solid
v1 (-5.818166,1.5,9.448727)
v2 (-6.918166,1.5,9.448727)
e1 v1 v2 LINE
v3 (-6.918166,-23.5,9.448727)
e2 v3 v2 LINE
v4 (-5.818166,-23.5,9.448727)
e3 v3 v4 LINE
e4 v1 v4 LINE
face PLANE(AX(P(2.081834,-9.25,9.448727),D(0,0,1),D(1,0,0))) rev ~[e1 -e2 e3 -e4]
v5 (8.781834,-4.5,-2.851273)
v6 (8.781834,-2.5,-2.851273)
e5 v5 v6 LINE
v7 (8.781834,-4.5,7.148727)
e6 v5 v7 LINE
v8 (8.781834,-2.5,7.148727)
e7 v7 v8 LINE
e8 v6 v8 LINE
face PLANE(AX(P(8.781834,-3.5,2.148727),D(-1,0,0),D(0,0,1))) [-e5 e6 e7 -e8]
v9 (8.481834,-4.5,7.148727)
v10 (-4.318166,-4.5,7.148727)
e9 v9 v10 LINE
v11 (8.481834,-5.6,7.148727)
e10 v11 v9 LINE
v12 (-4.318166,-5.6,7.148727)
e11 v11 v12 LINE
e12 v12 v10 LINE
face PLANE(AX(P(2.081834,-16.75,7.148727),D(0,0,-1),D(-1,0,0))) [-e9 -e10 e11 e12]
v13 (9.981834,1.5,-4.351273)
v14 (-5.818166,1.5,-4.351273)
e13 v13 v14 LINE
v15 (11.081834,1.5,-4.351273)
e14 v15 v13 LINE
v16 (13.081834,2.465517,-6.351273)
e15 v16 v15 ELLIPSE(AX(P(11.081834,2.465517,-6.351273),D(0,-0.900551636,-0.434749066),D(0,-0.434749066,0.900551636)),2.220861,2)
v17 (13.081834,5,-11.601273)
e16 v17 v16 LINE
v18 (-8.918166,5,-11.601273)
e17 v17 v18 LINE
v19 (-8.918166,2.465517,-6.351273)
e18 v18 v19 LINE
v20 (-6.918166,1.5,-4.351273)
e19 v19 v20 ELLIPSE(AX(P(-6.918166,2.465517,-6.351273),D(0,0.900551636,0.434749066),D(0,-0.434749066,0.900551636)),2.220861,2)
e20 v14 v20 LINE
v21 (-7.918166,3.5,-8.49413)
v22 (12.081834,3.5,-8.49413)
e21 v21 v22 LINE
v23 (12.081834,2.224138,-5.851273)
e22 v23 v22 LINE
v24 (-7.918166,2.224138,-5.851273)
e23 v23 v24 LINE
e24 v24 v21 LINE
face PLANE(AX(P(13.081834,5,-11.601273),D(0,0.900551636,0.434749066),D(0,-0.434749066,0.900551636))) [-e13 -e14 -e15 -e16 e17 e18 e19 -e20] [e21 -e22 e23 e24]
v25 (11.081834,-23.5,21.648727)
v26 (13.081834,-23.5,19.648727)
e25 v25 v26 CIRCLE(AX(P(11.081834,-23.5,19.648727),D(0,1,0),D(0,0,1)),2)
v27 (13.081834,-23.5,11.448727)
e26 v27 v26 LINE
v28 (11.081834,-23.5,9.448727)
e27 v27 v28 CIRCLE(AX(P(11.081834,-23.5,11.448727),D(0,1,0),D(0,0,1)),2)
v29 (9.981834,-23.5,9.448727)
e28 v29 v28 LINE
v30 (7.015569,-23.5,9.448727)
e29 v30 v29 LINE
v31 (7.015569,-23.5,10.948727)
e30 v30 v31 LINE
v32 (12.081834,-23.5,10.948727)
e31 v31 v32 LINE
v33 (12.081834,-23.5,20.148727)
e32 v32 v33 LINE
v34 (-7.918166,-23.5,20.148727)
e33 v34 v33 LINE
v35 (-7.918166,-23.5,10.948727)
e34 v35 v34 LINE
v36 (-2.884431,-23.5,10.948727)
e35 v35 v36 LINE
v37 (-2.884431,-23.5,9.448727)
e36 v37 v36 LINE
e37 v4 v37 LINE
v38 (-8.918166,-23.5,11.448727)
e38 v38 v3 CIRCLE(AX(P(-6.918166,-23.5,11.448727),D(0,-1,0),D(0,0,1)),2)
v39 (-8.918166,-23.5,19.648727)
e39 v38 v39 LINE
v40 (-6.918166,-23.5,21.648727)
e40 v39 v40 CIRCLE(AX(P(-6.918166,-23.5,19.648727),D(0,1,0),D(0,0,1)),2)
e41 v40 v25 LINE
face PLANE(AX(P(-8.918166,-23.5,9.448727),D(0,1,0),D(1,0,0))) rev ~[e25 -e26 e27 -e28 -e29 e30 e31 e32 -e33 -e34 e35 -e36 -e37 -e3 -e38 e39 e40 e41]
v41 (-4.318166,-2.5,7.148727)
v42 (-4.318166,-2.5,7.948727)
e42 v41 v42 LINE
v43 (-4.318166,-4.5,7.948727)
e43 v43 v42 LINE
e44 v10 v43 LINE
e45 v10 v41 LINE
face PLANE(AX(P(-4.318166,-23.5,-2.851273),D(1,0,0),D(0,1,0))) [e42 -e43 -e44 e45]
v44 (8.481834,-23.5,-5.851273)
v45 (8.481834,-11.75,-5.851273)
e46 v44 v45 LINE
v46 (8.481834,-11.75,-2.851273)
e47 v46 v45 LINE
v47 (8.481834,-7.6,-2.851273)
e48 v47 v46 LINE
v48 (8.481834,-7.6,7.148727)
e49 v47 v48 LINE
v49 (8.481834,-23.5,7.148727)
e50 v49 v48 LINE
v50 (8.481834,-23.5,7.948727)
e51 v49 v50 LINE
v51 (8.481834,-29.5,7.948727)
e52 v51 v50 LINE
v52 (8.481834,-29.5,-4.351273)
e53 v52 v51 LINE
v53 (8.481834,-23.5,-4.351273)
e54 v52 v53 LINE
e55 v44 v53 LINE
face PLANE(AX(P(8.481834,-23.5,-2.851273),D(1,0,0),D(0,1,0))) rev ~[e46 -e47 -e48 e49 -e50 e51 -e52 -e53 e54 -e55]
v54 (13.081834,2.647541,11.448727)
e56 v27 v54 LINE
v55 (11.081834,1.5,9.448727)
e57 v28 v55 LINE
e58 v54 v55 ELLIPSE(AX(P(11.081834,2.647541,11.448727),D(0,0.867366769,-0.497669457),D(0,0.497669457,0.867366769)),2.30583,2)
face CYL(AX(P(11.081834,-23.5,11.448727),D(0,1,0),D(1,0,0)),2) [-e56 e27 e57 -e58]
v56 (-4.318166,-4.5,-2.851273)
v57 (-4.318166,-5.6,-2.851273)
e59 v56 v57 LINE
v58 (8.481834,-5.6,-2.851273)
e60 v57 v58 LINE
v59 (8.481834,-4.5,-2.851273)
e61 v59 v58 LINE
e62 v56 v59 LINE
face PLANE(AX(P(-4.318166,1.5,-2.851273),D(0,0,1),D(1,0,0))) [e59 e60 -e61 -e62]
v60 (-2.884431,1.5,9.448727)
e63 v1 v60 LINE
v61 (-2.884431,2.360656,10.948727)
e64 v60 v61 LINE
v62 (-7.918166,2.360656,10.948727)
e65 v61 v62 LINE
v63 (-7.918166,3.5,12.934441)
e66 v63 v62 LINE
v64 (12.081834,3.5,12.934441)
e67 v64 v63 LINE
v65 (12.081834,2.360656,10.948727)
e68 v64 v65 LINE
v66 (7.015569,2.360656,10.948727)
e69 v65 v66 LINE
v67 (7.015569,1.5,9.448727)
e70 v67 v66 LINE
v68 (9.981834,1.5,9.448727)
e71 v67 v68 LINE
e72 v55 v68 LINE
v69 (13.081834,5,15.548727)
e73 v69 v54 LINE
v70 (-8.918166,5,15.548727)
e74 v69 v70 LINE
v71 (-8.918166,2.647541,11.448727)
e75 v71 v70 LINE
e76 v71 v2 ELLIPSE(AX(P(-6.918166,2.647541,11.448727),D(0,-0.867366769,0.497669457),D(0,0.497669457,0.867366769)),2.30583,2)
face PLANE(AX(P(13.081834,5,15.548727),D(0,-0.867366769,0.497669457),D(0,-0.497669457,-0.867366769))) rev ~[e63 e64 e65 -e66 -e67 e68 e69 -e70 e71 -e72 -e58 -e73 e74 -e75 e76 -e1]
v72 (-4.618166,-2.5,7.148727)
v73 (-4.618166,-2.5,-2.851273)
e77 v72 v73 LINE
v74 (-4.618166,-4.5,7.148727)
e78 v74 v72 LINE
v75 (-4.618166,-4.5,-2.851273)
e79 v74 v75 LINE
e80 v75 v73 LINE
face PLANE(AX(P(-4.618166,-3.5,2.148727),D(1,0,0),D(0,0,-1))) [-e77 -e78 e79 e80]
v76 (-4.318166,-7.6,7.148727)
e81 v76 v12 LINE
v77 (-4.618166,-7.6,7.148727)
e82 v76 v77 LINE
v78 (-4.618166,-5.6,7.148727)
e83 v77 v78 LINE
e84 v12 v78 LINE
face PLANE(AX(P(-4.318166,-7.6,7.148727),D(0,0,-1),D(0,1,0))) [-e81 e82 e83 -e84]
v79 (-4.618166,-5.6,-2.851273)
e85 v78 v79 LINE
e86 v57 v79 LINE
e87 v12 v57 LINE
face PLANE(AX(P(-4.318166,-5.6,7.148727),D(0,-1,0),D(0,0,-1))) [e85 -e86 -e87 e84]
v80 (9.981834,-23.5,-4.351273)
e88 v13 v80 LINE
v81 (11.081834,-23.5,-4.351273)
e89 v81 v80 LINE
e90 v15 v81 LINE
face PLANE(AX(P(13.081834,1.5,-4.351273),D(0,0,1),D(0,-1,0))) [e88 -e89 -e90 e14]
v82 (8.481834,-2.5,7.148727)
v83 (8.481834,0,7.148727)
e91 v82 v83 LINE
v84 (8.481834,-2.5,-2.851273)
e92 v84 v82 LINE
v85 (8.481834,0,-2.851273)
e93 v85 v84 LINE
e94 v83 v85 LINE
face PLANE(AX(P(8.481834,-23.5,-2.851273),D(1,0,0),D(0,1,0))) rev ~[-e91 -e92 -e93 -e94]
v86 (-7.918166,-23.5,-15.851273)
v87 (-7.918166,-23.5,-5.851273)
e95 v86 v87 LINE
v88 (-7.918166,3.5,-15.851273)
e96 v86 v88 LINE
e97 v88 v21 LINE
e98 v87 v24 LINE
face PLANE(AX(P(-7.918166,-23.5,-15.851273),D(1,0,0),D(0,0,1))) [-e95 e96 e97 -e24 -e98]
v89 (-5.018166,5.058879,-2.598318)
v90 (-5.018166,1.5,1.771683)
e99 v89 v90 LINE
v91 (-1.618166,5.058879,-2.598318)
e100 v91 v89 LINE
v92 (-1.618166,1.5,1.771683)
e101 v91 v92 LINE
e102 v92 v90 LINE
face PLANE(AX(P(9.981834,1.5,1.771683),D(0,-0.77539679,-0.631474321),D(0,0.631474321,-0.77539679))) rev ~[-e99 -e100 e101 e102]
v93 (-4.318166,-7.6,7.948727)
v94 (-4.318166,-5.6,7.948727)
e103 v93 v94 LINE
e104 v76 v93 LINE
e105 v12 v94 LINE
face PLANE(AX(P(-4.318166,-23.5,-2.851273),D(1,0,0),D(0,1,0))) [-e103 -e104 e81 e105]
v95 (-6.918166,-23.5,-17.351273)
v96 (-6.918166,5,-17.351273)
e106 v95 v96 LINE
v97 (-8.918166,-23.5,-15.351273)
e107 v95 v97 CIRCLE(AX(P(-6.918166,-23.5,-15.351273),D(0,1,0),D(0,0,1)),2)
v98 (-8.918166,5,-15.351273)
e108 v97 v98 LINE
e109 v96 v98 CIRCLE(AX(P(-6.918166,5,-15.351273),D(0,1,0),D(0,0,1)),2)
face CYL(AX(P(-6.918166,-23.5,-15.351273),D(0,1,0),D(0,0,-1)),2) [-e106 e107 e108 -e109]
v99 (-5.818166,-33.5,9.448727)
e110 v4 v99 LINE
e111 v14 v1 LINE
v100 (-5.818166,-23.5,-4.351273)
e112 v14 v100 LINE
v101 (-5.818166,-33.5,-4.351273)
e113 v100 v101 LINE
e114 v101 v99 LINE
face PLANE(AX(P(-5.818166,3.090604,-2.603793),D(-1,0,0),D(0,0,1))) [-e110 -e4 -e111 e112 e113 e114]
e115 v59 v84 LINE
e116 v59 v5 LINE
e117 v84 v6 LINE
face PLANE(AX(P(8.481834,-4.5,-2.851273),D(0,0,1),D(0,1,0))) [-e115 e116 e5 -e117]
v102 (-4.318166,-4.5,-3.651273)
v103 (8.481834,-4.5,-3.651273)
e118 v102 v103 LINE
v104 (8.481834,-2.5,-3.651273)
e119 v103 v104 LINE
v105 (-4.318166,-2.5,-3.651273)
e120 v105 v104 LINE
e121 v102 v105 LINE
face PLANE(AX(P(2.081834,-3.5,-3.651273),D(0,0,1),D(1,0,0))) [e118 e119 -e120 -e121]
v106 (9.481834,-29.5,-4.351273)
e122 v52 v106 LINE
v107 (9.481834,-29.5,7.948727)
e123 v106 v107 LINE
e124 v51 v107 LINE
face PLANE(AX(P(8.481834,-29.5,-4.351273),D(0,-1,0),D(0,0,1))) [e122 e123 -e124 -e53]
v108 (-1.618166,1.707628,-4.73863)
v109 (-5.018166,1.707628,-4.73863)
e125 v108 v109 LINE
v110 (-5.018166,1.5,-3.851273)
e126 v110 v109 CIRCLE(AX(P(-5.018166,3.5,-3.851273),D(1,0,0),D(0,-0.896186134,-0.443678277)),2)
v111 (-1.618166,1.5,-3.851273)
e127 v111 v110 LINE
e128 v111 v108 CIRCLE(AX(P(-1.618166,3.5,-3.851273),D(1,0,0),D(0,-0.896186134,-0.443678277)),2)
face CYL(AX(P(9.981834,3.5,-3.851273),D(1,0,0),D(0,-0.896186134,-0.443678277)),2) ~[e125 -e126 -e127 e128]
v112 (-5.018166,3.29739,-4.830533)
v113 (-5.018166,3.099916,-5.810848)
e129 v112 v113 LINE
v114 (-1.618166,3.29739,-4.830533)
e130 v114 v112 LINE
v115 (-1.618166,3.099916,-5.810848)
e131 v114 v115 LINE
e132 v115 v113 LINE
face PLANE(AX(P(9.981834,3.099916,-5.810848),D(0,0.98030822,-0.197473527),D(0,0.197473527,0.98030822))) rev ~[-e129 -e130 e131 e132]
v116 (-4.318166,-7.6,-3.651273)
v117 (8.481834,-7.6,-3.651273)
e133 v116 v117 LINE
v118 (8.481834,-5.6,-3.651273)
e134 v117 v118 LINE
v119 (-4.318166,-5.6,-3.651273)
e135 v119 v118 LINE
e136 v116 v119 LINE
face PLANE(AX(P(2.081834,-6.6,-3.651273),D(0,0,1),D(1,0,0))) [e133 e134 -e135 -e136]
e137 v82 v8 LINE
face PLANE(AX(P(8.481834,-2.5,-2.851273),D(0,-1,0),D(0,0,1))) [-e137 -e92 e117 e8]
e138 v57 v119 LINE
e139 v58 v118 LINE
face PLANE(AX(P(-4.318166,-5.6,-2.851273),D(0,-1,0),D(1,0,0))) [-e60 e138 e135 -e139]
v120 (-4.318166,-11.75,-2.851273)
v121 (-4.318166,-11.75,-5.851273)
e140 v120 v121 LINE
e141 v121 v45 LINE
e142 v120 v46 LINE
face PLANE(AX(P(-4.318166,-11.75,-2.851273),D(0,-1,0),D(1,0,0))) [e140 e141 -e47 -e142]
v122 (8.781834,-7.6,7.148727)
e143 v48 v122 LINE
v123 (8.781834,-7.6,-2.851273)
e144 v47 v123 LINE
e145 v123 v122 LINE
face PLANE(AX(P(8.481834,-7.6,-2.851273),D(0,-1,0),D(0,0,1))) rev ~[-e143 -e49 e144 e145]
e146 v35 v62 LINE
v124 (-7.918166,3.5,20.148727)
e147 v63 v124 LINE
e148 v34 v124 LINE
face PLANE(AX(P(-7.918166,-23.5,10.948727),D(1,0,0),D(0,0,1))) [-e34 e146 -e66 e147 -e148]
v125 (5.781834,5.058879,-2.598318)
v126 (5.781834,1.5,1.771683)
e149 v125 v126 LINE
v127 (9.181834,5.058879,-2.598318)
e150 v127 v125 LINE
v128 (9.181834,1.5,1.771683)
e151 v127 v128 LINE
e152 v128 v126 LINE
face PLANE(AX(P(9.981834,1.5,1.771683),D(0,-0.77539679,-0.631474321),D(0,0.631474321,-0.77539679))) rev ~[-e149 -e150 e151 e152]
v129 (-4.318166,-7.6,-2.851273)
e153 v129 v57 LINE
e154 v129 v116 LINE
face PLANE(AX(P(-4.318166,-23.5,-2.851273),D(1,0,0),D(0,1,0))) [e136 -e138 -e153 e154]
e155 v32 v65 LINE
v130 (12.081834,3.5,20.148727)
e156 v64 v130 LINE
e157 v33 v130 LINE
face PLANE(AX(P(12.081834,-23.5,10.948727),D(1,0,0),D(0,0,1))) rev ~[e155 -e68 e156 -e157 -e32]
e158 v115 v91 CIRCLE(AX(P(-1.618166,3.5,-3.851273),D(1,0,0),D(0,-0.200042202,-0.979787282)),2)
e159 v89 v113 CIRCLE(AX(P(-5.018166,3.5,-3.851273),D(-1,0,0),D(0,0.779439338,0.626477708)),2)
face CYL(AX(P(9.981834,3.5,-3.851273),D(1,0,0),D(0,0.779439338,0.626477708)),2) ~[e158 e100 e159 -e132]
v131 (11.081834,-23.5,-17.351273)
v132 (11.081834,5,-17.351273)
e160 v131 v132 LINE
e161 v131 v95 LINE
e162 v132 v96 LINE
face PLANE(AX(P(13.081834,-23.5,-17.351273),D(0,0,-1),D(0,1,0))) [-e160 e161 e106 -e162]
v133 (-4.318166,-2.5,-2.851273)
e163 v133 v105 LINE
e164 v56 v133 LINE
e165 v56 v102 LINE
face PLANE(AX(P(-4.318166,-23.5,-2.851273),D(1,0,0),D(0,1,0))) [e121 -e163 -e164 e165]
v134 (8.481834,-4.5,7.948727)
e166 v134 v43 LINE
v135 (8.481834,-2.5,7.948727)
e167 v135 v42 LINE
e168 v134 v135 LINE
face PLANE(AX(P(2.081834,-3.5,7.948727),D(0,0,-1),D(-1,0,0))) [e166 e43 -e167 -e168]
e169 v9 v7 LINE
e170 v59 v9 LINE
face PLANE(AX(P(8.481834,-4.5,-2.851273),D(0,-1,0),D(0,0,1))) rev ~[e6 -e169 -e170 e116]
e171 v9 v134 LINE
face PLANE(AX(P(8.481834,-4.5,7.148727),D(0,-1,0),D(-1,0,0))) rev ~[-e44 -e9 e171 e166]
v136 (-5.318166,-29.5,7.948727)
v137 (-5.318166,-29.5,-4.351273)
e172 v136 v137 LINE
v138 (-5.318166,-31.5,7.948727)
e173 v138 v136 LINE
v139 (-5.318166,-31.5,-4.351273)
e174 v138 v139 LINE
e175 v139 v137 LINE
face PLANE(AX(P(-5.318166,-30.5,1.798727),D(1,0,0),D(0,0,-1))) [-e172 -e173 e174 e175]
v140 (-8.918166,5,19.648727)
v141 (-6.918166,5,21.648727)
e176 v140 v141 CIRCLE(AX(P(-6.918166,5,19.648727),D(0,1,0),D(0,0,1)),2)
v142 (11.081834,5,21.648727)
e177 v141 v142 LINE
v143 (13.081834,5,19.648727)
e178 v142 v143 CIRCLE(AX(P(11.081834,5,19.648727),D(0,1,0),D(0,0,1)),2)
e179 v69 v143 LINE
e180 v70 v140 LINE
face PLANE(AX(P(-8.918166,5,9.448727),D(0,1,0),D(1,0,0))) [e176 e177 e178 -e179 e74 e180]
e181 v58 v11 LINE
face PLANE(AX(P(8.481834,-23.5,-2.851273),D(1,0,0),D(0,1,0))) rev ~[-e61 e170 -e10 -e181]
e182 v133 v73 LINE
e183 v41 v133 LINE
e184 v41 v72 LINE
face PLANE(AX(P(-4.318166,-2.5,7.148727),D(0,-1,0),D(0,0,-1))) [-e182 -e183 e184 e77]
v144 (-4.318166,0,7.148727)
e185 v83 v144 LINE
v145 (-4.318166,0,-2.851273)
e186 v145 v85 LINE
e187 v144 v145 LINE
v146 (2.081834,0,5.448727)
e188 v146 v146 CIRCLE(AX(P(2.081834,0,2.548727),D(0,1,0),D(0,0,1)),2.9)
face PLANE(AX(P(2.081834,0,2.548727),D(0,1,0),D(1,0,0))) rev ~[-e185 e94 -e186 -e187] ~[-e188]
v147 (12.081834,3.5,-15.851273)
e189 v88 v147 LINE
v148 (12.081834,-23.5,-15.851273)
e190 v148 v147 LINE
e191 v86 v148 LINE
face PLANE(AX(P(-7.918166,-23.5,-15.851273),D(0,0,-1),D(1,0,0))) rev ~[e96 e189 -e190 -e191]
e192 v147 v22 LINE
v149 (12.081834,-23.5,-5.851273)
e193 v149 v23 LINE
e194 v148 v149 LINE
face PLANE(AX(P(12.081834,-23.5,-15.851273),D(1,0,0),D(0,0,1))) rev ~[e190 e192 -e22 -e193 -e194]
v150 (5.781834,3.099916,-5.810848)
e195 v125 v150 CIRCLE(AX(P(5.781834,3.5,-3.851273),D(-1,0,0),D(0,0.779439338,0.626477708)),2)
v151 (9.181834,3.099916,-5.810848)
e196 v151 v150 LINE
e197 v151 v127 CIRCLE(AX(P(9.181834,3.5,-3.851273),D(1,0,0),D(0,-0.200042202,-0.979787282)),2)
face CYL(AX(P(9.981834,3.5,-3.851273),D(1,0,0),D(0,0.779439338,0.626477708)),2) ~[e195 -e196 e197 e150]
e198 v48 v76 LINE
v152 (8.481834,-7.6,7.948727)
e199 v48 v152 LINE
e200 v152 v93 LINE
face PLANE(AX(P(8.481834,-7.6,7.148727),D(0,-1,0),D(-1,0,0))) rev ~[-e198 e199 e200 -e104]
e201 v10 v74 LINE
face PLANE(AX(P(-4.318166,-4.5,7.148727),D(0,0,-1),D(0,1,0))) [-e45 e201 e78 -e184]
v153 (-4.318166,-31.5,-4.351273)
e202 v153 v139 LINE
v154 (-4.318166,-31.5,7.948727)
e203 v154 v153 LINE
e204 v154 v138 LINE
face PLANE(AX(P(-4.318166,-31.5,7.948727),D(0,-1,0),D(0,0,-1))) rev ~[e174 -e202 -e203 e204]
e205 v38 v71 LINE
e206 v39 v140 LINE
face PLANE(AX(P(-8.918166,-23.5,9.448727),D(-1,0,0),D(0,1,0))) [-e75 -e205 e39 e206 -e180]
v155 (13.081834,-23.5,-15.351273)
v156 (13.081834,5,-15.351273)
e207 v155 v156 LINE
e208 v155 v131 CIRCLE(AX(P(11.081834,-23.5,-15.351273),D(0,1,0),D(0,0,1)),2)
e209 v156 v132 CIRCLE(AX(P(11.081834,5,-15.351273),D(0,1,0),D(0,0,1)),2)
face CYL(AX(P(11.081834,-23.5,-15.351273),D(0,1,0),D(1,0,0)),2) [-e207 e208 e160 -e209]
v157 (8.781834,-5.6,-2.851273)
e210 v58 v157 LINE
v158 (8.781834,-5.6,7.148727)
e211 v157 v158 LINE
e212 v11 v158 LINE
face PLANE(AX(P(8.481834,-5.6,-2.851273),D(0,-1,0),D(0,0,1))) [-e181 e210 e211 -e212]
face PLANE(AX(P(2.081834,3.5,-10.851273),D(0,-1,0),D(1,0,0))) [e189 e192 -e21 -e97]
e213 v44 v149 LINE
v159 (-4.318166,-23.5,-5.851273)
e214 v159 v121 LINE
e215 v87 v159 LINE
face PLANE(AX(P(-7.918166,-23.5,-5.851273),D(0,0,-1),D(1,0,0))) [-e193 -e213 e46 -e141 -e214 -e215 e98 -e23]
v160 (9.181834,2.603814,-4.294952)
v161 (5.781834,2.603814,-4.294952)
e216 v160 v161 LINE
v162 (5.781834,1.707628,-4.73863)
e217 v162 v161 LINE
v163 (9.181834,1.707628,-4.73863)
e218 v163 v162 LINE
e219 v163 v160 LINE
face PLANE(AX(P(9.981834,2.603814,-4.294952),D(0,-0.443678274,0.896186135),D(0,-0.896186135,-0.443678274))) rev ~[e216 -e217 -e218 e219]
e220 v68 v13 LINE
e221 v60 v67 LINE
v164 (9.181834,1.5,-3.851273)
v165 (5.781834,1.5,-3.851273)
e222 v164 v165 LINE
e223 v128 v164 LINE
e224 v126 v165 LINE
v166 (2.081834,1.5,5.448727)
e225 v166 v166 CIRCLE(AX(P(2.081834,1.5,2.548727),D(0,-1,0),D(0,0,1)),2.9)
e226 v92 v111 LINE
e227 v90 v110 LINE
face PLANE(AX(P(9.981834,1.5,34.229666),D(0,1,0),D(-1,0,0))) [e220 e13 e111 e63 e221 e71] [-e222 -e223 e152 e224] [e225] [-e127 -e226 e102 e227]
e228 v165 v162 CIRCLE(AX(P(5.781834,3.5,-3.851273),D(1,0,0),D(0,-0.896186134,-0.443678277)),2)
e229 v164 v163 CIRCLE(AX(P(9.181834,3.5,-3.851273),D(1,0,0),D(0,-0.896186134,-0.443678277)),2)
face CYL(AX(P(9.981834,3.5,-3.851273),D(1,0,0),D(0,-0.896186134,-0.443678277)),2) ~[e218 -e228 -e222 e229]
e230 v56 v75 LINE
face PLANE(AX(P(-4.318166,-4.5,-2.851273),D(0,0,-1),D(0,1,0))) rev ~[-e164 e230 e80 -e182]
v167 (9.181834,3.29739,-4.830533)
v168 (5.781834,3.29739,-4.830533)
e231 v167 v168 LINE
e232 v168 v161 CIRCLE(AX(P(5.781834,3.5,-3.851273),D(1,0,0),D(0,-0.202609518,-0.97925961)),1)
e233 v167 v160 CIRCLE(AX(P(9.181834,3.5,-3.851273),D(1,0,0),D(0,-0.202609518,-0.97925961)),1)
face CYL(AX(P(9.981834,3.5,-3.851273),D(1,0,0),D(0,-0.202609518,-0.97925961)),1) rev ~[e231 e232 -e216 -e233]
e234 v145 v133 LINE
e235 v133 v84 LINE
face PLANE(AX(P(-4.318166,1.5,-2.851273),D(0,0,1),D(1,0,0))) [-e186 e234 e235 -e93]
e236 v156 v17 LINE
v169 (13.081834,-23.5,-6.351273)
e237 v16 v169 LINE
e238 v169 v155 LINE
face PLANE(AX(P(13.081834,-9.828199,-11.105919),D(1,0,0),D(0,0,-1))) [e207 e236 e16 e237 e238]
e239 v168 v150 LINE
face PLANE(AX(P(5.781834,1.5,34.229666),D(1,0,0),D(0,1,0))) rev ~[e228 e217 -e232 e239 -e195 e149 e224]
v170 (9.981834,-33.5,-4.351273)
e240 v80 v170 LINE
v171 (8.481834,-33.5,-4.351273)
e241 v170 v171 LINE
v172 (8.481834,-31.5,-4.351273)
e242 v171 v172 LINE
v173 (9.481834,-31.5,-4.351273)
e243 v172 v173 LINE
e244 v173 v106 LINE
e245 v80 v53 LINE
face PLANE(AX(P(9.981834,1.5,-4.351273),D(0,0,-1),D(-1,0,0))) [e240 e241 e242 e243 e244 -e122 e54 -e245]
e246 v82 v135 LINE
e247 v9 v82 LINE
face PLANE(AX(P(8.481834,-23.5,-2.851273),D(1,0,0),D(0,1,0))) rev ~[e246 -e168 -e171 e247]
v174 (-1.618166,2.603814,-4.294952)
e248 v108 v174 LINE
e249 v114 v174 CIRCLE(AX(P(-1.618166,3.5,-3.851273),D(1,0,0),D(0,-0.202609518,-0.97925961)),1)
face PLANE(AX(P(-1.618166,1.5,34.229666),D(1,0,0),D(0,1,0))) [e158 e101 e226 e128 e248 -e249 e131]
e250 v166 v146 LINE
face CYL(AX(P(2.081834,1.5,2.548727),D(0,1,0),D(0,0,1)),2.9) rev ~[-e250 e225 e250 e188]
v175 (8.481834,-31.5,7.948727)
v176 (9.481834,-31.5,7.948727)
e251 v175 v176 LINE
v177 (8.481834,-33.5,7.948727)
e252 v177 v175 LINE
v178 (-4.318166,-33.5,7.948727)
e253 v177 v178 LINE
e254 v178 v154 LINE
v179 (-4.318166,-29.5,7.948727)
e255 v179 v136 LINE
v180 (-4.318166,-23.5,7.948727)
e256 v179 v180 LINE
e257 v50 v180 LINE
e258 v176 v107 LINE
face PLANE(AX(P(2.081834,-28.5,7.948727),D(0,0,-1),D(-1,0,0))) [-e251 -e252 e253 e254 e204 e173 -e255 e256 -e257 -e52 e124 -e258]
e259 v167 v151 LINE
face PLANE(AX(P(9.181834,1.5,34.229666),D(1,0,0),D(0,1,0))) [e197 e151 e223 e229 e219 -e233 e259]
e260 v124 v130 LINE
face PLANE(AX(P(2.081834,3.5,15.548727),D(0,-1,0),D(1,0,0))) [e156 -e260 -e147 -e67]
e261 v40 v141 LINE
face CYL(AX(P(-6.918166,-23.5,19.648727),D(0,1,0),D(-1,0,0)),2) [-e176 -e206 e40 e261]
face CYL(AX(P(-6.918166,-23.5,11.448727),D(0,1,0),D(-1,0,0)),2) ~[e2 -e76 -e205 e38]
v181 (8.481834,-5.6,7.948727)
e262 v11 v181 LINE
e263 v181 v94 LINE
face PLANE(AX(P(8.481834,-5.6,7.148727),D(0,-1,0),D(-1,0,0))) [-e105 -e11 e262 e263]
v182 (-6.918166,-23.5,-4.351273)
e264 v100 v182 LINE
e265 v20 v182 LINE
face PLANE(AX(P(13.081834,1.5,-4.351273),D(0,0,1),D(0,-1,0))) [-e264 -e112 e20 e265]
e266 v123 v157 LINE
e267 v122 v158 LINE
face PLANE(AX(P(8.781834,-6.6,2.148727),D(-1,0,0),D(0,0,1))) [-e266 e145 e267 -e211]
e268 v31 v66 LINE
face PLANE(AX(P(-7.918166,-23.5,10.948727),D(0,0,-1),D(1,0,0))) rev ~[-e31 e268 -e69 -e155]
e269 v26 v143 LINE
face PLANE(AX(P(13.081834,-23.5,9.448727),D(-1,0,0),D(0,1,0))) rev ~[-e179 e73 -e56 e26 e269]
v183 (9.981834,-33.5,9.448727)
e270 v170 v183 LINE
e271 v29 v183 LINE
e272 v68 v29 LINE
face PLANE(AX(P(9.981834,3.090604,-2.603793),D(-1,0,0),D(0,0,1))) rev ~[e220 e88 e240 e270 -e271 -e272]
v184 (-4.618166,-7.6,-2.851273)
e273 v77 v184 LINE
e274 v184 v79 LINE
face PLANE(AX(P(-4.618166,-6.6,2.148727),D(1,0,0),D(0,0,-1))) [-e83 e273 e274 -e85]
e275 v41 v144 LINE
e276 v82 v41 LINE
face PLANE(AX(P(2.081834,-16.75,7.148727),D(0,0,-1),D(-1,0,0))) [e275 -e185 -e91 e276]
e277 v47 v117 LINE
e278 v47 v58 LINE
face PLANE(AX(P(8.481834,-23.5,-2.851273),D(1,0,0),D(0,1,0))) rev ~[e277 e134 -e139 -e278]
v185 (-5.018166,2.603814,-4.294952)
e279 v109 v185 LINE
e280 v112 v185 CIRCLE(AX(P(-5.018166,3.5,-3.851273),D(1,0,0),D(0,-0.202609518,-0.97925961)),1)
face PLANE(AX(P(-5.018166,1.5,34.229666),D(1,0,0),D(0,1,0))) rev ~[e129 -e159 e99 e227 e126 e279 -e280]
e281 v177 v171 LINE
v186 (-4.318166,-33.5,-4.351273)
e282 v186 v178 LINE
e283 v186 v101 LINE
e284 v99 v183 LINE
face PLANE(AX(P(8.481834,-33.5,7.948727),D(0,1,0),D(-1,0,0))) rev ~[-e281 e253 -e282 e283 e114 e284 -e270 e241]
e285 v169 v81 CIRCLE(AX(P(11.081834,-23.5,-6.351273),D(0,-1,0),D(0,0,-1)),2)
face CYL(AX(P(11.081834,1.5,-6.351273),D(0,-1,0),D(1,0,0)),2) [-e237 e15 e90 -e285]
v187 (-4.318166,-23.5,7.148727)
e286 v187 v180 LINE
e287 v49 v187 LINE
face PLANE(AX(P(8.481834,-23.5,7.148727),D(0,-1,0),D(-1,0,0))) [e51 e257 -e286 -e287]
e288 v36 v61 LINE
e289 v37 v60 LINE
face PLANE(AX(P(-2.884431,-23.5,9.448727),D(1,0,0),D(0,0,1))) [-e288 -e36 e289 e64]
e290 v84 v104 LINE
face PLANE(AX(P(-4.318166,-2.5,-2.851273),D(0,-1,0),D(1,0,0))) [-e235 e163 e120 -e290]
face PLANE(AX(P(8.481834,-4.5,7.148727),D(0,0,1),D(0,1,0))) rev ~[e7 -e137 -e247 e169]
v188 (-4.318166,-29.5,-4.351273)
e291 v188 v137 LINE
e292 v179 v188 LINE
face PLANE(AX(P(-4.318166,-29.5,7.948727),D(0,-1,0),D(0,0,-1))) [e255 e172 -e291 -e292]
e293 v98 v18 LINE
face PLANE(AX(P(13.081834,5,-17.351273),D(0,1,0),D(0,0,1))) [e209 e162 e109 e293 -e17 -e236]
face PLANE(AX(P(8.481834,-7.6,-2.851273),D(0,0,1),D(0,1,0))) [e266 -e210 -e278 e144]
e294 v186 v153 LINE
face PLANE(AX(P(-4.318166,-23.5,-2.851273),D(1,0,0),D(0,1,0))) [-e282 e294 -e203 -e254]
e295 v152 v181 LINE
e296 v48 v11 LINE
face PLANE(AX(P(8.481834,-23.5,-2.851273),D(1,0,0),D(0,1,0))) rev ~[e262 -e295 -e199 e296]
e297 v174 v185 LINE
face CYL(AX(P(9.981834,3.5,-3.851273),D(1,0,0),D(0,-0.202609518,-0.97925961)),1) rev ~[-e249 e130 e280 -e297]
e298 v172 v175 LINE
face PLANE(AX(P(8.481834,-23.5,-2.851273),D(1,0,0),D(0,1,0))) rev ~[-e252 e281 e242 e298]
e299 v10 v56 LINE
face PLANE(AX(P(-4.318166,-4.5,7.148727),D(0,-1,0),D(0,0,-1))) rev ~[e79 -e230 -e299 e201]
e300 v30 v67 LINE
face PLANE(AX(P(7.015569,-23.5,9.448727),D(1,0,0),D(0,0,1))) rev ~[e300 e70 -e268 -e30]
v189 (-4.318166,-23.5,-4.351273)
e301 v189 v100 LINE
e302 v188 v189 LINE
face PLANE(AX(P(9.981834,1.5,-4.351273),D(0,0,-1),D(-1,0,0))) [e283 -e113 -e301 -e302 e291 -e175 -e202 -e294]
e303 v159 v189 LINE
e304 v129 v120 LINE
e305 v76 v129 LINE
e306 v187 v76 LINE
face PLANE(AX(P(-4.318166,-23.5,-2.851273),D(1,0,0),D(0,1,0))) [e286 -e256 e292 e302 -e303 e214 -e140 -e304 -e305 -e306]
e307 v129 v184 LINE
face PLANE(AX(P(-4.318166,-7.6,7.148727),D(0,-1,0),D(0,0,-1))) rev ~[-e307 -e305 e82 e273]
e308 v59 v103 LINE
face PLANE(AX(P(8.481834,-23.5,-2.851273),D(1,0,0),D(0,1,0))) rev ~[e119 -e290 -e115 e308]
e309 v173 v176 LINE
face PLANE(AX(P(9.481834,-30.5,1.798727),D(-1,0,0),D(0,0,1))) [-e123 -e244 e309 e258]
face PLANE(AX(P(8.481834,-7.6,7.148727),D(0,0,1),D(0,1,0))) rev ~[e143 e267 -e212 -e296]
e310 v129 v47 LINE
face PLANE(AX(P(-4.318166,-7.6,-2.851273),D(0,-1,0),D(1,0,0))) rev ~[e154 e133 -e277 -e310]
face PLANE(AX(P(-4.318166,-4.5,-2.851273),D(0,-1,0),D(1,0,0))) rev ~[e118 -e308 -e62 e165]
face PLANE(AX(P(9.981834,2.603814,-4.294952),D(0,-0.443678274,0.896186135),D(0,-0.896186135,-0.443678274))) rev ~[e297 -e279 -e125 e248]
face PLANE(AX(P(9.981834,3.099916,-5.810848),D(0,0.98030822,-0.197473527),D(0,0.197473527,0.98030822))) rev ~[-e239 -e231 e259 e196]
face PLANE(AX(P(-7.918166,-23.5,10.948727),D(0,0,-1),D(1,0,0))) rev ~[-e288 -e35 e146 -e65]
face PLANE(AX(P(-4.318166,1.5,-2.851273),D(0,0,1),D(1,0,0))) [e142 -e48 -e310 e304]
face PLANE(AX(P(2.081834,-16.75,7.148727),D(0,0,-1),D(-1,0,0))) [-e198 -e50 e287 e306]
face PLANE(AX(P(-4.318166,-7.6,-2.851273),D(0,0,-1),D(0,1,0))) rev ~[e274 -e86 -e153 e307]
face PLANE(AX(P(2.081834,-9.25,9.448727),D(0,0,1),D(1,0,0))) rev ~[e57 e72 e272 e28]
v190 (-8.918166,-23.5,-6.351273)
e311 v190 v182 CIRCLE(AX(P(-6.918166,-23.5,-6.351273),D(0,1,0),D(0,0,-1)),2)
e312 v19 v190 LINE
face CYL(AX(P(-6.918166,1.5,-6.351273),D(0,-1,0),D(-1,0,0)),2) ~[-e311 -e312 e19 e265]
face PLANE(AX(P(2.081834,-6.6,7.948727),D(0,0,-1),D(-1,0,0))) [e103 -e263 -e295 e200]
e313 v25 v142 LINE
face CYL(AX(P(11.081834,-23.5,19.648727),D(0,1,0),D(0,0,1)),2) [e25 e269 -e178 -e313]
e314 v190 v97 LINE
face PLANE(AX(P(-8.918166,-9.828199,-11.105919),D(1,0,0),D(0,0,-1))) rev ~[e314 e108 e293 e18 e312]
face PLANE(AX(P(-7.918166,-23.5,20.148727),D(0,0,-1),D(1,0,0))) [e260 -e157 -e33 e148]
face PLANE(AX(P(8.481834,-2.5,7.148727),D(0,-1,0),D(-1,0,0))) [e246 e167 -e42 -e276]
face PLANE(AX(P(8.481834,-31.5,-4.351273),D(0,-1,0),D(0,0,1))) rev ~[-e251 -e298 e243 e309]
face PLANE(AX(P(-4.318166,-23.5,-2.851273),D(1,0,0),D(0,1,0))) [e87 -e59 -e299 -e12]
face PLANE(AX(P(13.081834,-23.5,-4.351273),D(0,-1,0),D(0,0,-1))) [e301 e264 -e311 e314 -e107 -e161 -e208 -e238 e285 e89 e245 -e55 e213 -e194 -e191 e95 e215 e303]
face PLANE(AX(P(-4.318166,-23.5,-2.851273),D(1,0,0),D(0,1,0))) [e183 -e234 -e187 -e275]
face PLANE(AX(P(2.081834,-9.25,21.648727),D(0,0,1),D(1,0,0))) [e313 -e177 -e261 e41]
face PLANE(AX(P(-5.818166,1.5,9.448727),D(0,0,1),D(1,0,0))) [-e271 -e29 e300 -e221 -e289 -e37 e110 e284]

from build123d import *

# Parameters (mm, degrees)
SKETCH_1_W               = 12.8
SKETCH_1_H               = 10.8
EXTRUDE_1_DEPTH          = 1.5
CUT_EXTRUDE_1_REACH      = 13.721
SKETCH_2_R               = 2.9
SKETCH_3_W               = 12.8
SKETCH_3_H               = 1.5
EXTRUDE_2_DEPTH          = 35
SKETCH_6_W               = 12.8
SKETCH_6_H               = 1.5
CUT_EXTRUDE_2_DEPTH      = 10
EXTRUDE_4_DEPTH          = 15.8
CUT_EXTRUDE_3_DEPTH      = 38.580939349
CUT_EXTRUDE_3_DEPTH_BACK = 38.580939349
SKETCH_10_W              = 7.4
SKETCH_10_H              = 4
SKETCH_10_W_2            = 0.8
EXTRUDE_5_DEPTH          = 3.1
EXTRUDE_5_DEPTH_BACK     = 18.9
SKETCH_18_W              = 20
SKETCH_18_H              = 10
CUT_EXTRUDE_4_DEPTH      = 27
CUT_EXTRUDE_5_REACH      = 40.777
SKETCH_20_W              = 12.8
SKETCH_20_H              = 11.75
FILLET_3_R               = 2
SKETCH_21_W              = 12.8
SKETCH_21_H              = 33.5
EXTRUDE_6_DEPTH          = 0.8
SKETCH_22_W              = 12.8
SKETCH_22_H              = 10
CUT_EXTRUDE_6_DEPTH      = 0.8
SKETCH_23_W              = 12.8
SKETCH_23_H              = 2
CUT_EXTRUDE_7_DEPTH      = 0.8
SKETCH_25_W              = 12.8
SKETCH_25_H              = 2
CUT_EXTRUDE_8_DEPTH      = 0.8
SKETCH_26_W              = 12.8
SKETCH_26_H              = 2
CUT_EXTRUDE_9_DEPTH      = 0.8
SKETCH_27_W              = 12.8
SKETCH_27_H              = 2
CUT_EXTRUDE_10_DEPTH     = 0.8
SKETCH_28_W              = 10
SKETCH_28_H              = 2
CUT_EXTRUDE_11_DEPTH     = 0.3
SKETCH_29_W              = 10
SKETCH_29_H              = 2
CUT_EXTRUDE_12_DEPTH     = 0.3
SKETCH_30_W              = 22
SKETCH_30_H              = 28.5
EXTRUDE_7_DEPTH          = 12.2
SKETCH_32_W              = 20
SKETCH_32_H              = 9.2
CUT_EXTRUDE_13_DEPTH     = 27
CUT_EXTRUDE_14_DEPTH     = 46.551260858
SKETCH_34_W              = 9.9
SKETCH_34_H              = 1.5
CUT_EXTRUDE_15_DEPTH     = 39.481186787
FILLET_4_R               = 2
SKETCH_36_W              = 12.3
SKETCH_36_H              = 2
CUT_EXTRUDE_18_DEPTH     = 1
SKETCH_37_W              = 12.3
SKETCH_37_H              = 2
CUT_EXTRUDE_19_DEPTH     = 1


with BuildPart() as part:
    # 草图1 → 凸台-拉伸1 (new body)
    with BuildSketch(Plane(origin=(0, 0, 0), x_dir=(1, 0, 0), z_dir=(0, 1, 0))):
        with Locations((2.081833616, -2.548726655)):
            Rectangle(SKETCH_1_W, SKETCH_1_H)
    extrude(amount=EXTRUDE_1_DEPTH)

    # 草图2 → 切除-拉伸1 (cut, up to next)
    with BuildSketch(Plane(origin=(0, 1.5, 0), x_dir=(1, 0, 0), z_dir=(0, 1, 0)), mode=Mode.PRIVATE) as cut_extrude_1_sk1:
        with Locations(Location((2.081833616, -2.548726655, 0), (0, 0, 270))):
            Circle(SKETCH_2_R)
    cut_extrude_1_tool1 = extrude(cut_extrude_1_sk1.sketch, amount=-CUT_EXTRUDE_1_REACH, mode=Mode.PRIVATE) & part.part
    add(cut_extrude_1_tool1.solids().sort_by_distance((2.081834, 1.5, 2.548727))[0], mode=Mode.SUBTRACT)

    # 草图3 → 凸台-拉伸2 (add)
    with BuildSketch(Plane(origin=(0, 1.5, 0), x_dir=(1, 0, 0), z_dir=(0, 1, 0))):
        Polygon((-4.318166384, 4.351273345), (-5.818166384, 4.351273345), (-5.818166384, -9.448726655), (-4.318166384, -9.448726655), (-4.318166384, -7.948726655), (-4.318166384, 2.851273345), align=None)
        with Locations((2.081833616, 3.601273345)):
            Rectangle(SKETCH_3_W, SKETCH_3_H)
        Polygon((8.481833616, 4.351273345), (9.981833616, 4.351273345), (9.981833616, -9.448726655), (8.481833616, -9.448726655), (8.481833616, -7.948726655), (8.481833616, 2.851273345), align=None)
        with Locations((2.081833616, -8.698726655)):
            Rectangle(SKETCH_3_W, SKETCH_3_H)
    extrude(amount=-EXTRUDE_2_DEPTH)

    # 草图6 → 切除-拉伸2 (cut)
    with BuildSketch(Plane.XZ.offset(33.5)):
        with Locations((2.081833616, -3.601273345)):
            Rectangle(SKETCH_6_W, SKETCH_6_H)
    extrude(amount=-CUT_EXTRUDE_2_DEPTH, mode=Mode.SUBTRACT)

    # 草图9 → 凸台-拉伸4 (add)
    with BuildSketch(Plane(origin=(9.981833616, 0, 0), x_dir=(0, 0, -1), z_dir=(1, 0, 0))):
        with BuildLine():
            Line((4.294951619, 2.603813865), (4.738629893, 1.70762773))
            ThreePointArc((4.738629893, 1.70762773), (4.306935204, 1.552598585), (3.851273345, 1.5))
            Line((3.851273345, 1.5), (-1.771682581, 1.5))
            Line((-1.771682581, 1.5), (2.59831793, 5.058878677))
            ThreePointArc((2.59831793, 5.058878677), (4.892528233, 5.207567937), (5.810847908, 3.099915598))
            Line((5.810847908, 3.099915598), (4.830532954, 3.297390482))
            ThreePointArc((4.830532954, 3.297390482), (3.059787283, 4.111187217), (4.294951619, 2.603813865))
        make_face()
    extrude(amount=-EXTRUDE_4_DEPTH)

    # 草图10 → 切除-拉伸3 (cut, two sides: drawn at the far end of the back side and taken through both)
    with BuildSketch(Plane(origin=(0, 0, -4.351273345), x_dir=(-1, 0, 0), z_dir=(0, 0, -1)).offset(-CUT_EXTRUDE_3_DEPTH_BACK)):
        with Locations((-2.081833616, 3.5)):
            Rectangle(SKETCH_10_W, SKETCH_10_H)
        with Locations((5.418166384, 3.5)):
            Rectangle(SKETCH_10_W_2, SKETCH_10_H)
        with Locations((-9.581833616, 3.5)):
            Rectangle(SKETCH_10_W_2, SKETCH_10_H)
    extrude(amount=CUT_EXTRUDE_3_DEPTH + CUT_EXTRUDE_3_DEPTH_BACK, mode=Mode.SUBTRACT)

    # 草图17 → 凸台-拉伸5 (add, two sides: drawn at the far end of the back side and taken through both)
    with BuildSketch(Plane.ZY.offset(5.818166384).offset(-EXTRUDE_5_DEPTH_BACK)):
        Polygon((-4.351273345, -23.5), (-17.351273345, -23.5), (-17.351273345, 5), (-11.601273345, 5), (-4.351273345, 1.5), align=None)
    extrude(amount=EXTRUDE_5_DEPTH + EXTRUDE_5_DEPTH_BACK)

    # 草图18 → 切除-拉伸4 (cut)
    with BuildSketch(Plane.XZ.offset(23.5)):
        with Locations((2.081833616, -10.851273345)):
            Rectangle(SKETCH_18_W, SKETCH_18_H)
    extrude(amount=-CUT_EXTRUDE_4_DEPTH, mode=Mode.SUBTRACT)

    # 草图20 → 切除-拉伸5 (cut, up to next)
    with BuildSketch(Plane.XY.offset(-2.851273345), mode=Mode.PRIVATE) as cut_extrude_5_sk1:
        with Locations((2.081833616, -17.625)):
            Rectangle(SKETCH_20_W, SKETCH_20_H)
    cut_extrude_5_tool1 = extrude(cut_extrude_5_sk1.sketch, amount=-CUT_EXTRUDE_5_REACH, mode=Mode.PRIVATE) & part.part
    add(cut_extrude_5_tool1.solids().sort_by_distance((2.081834, -17.625, -2.851273))[0], mode=Mode.SUBTRACT)

    # 圆角3
    fillet_3_edges = [part.edges().sort_by_distance(p)[0] for p in [
        (13.081833616, -11, -4.351273345),
        (13.081833616, -9.25, -17.351273345),
        (-8.918166384, -11, -4.351273345),
        (-8.918166384, -9.25, -17.351273345),
    ]]
    fillet(fillet_3_edges, radius=FILLET_3_R)

    # 草图21 → 凸台-拉伸6 (add)
    with BuildSketch(Plane(origin=(0, 0, 7.948726655), x_dir=(-1, 0, 0), z_dir=(0, 0, -1))):
        with Locations((-2.081833616, -16.75)):
            Rectangle(SKETCH_21_W, SKETCH_21_H)
    extrude(amount=EXTRUDE_6_DEPTH)

    # 草图22 → 切除-拉伸6 (cut)
    with BuildSketch(Plane(origin=(0, 0, 7.148726655), x_dir=(-1, 0, 0), z_dir=(0, 0, -1))):
        with Locations((-2.081833616, -28.5)):
            Rectangle(SKETCH_22_W, SKETCH_22_H)
    extrude(amount=-CUT_EXTRUDE_6_DEPTH, mode=Mode.SUBTRACT)

    # 草图23 → 切除-拉伸7 (cut)
    with BuildSketch(Plane(origin=(0, 0, 7.148726655), x_dir=(-1, 0, 0), z_dir=(0, 0, -1))):
        with Locations((-2.081833616, -3.5)):
            Rectangle(SKETCH_23_W, SKETCH_23_H)
    extrude(amount=-CUT_EXTRUDE_7_DEPTH, mode=Mode.SUBTRACT)

    # 草图25 → 切除-拉伸8 (cut)
    with BuildSketch(Plane.XY.offset(-2.851273345)):
        with Locations((2.081833616, -3.5)):
            Rectangle(SKETCH_25_W, SKETCH_25_H)
    extrude(amount=-CUT_EXTRUDE_8_DEPTH, mode=Mode.SUBTRACT)

    # 草图26 → 切除-拉伸9 (cut)
    with BuildSketch(Plane(origin=(0, 0, 7.148726655), x_dir=(-1, 0, 0), z_dir=(0, 0, -1))):
        with Locations((-2.081833616, -6.6)):
            Rectangle(SKETCH_26_W, SKETCH_26_H)
    extrude(amount=-CUT_EXTRUDE_9_DEPTH, mode=Mode.SUBTRACT)

    # 草图27 → 切除-拉伸10 (cut)
    with BuildSketch(Plane.XY.offset(-2.851273345)):
        with Locations((2.081833616, -6.6)):
            Rectangle(SKETCH_27_W, SKETCH_27_H)
    extrude(amount=-CUT_EXTRUDE_10_DEPTH, mode=Mode.SUBTRACT)

    # 草图28 → 切除-拉伸11 (cut)
    with BuildSketch(Plane(origin=(-4.318166384, 0, 0), x_dir=(0, 0, -1), z_dir=(1, 0, 0))):
        with Locations((-2.148726655, -6.6)):
            Rectangle(SKETCH_28_W, SKETCH_28_H)
        with Locations((-2.148726655, -3.5)):
            Rectangle(SKETCH_28_W, SKETCH_28_H)
    extrude(amount=-CUT_EXTRUDE_11_DEPTH, mode=Mode.SUBTRACT)

    # 草图29 → 切除-拉伸12 (cut)
    with BuildSketch(Plane.ZY.offset(-8.481833616)):
        with Locations((2.148726655, -3.5)):
            Rectangle(SKETCH_29_W, SKETCH_29_H)
        with Locations((2.148726655, -6.6)):
            Rectangle(SKETCH_29_W, SKETCH_29_H)
    extrude(amount=-CUT_EXTRUDE_12_DEPTH, mode=Mode.SUBTRACT)

    # 草图30 → 凸台-拉伸7 (add)
    with BuildSketch(Plane.XY.offset(9.448726655)):
        with Locations((2.081833616, -9.25)):
            Rectangle(SKETCH_30_W, SKETCH_30_H)
    extrude(amount=EXTRUDE_7_DEPTH)

    # 草图32 → 切除-拉伸13 (cut)
    with BuildSketch(Plane.XZ.offset(23.5)):
        with Locations((2.081833616, 15.548726655)):
            Rectangle(SKETCH_32_W, SKETCH_32_H)
    extrude(amount=-CUT_EXTRUDE_13_DEPTH, mode=Mode.SUBTRACT)

    # 草图33 → 切除-拉伸14 (cut, through all)
    with BuildSketch(Plane(origin=(13.081833616, 0, 0), x_dir=(0, 0, -1), z_dir=(1, 0, 0))):
        Polygon((-15.548726655, 5), (-9.448726655, 1.5), (-9.448726655, 5), align=None)
    extrude(amount=-CUT_EXTRUDE_14_DEPTH, mode=Mode.SUBTRACT)

    # 草图34 → 切除-拉伸15 (cut, through all)
    with BuildSketch(Plane.XZ.offset(23.5)):
        with Locations((2.065568836, 10.198726655)):
            Rectangle(SKETCH_34_W, SKETCH_34_H)
    extrude(amount=-CUT_EXTRUDE_15_DEPTH, mode=Mode.SUBTRACT)

    # 圆角4
    fillet_4_edges = [part.edges().sort_by_distance(p)[0] for p in [
        (13.081833616, -11, 9.448726655),
        (-8.918166384, -9.25, 21.648726655),
        (13.081833616, -9.25, 21.648726655),
        (-8.918166384, -11, 9.448726655),
    ]]
    fillet(fillet_4_edges, radius=FILLET_4_R)

    # 草图36 → 切除-拉伸18 (cut)
    with BuildSketch(Plane(origin=(-4.318166384, 0, 0), x_dir=(0, 0, -1), z_dir=(1, 0, 0))):
        with Locations((-1.798726655, -30.5)):
            Rectangle(SKETCH_36_W, SKETCH_36_H)
    extrude(amount=-CUT_EXTRUDE_18_DEPTH, mode=Mode.SUBTRACT)

    # 草图37 → 切除-拉伸19 (cut)
    with BuildSketch(Plane.ZY.offset(-8.481833616)):
        with Locations((1.798726655, -30.5)):
            Rectangle(SKETCH_37_W, SKETCH_37_H)
    extrude(amount=-CUT_EXTRUDE_19_DEPTH, mode=Mode.SUBTRACT)


solid = part.part
